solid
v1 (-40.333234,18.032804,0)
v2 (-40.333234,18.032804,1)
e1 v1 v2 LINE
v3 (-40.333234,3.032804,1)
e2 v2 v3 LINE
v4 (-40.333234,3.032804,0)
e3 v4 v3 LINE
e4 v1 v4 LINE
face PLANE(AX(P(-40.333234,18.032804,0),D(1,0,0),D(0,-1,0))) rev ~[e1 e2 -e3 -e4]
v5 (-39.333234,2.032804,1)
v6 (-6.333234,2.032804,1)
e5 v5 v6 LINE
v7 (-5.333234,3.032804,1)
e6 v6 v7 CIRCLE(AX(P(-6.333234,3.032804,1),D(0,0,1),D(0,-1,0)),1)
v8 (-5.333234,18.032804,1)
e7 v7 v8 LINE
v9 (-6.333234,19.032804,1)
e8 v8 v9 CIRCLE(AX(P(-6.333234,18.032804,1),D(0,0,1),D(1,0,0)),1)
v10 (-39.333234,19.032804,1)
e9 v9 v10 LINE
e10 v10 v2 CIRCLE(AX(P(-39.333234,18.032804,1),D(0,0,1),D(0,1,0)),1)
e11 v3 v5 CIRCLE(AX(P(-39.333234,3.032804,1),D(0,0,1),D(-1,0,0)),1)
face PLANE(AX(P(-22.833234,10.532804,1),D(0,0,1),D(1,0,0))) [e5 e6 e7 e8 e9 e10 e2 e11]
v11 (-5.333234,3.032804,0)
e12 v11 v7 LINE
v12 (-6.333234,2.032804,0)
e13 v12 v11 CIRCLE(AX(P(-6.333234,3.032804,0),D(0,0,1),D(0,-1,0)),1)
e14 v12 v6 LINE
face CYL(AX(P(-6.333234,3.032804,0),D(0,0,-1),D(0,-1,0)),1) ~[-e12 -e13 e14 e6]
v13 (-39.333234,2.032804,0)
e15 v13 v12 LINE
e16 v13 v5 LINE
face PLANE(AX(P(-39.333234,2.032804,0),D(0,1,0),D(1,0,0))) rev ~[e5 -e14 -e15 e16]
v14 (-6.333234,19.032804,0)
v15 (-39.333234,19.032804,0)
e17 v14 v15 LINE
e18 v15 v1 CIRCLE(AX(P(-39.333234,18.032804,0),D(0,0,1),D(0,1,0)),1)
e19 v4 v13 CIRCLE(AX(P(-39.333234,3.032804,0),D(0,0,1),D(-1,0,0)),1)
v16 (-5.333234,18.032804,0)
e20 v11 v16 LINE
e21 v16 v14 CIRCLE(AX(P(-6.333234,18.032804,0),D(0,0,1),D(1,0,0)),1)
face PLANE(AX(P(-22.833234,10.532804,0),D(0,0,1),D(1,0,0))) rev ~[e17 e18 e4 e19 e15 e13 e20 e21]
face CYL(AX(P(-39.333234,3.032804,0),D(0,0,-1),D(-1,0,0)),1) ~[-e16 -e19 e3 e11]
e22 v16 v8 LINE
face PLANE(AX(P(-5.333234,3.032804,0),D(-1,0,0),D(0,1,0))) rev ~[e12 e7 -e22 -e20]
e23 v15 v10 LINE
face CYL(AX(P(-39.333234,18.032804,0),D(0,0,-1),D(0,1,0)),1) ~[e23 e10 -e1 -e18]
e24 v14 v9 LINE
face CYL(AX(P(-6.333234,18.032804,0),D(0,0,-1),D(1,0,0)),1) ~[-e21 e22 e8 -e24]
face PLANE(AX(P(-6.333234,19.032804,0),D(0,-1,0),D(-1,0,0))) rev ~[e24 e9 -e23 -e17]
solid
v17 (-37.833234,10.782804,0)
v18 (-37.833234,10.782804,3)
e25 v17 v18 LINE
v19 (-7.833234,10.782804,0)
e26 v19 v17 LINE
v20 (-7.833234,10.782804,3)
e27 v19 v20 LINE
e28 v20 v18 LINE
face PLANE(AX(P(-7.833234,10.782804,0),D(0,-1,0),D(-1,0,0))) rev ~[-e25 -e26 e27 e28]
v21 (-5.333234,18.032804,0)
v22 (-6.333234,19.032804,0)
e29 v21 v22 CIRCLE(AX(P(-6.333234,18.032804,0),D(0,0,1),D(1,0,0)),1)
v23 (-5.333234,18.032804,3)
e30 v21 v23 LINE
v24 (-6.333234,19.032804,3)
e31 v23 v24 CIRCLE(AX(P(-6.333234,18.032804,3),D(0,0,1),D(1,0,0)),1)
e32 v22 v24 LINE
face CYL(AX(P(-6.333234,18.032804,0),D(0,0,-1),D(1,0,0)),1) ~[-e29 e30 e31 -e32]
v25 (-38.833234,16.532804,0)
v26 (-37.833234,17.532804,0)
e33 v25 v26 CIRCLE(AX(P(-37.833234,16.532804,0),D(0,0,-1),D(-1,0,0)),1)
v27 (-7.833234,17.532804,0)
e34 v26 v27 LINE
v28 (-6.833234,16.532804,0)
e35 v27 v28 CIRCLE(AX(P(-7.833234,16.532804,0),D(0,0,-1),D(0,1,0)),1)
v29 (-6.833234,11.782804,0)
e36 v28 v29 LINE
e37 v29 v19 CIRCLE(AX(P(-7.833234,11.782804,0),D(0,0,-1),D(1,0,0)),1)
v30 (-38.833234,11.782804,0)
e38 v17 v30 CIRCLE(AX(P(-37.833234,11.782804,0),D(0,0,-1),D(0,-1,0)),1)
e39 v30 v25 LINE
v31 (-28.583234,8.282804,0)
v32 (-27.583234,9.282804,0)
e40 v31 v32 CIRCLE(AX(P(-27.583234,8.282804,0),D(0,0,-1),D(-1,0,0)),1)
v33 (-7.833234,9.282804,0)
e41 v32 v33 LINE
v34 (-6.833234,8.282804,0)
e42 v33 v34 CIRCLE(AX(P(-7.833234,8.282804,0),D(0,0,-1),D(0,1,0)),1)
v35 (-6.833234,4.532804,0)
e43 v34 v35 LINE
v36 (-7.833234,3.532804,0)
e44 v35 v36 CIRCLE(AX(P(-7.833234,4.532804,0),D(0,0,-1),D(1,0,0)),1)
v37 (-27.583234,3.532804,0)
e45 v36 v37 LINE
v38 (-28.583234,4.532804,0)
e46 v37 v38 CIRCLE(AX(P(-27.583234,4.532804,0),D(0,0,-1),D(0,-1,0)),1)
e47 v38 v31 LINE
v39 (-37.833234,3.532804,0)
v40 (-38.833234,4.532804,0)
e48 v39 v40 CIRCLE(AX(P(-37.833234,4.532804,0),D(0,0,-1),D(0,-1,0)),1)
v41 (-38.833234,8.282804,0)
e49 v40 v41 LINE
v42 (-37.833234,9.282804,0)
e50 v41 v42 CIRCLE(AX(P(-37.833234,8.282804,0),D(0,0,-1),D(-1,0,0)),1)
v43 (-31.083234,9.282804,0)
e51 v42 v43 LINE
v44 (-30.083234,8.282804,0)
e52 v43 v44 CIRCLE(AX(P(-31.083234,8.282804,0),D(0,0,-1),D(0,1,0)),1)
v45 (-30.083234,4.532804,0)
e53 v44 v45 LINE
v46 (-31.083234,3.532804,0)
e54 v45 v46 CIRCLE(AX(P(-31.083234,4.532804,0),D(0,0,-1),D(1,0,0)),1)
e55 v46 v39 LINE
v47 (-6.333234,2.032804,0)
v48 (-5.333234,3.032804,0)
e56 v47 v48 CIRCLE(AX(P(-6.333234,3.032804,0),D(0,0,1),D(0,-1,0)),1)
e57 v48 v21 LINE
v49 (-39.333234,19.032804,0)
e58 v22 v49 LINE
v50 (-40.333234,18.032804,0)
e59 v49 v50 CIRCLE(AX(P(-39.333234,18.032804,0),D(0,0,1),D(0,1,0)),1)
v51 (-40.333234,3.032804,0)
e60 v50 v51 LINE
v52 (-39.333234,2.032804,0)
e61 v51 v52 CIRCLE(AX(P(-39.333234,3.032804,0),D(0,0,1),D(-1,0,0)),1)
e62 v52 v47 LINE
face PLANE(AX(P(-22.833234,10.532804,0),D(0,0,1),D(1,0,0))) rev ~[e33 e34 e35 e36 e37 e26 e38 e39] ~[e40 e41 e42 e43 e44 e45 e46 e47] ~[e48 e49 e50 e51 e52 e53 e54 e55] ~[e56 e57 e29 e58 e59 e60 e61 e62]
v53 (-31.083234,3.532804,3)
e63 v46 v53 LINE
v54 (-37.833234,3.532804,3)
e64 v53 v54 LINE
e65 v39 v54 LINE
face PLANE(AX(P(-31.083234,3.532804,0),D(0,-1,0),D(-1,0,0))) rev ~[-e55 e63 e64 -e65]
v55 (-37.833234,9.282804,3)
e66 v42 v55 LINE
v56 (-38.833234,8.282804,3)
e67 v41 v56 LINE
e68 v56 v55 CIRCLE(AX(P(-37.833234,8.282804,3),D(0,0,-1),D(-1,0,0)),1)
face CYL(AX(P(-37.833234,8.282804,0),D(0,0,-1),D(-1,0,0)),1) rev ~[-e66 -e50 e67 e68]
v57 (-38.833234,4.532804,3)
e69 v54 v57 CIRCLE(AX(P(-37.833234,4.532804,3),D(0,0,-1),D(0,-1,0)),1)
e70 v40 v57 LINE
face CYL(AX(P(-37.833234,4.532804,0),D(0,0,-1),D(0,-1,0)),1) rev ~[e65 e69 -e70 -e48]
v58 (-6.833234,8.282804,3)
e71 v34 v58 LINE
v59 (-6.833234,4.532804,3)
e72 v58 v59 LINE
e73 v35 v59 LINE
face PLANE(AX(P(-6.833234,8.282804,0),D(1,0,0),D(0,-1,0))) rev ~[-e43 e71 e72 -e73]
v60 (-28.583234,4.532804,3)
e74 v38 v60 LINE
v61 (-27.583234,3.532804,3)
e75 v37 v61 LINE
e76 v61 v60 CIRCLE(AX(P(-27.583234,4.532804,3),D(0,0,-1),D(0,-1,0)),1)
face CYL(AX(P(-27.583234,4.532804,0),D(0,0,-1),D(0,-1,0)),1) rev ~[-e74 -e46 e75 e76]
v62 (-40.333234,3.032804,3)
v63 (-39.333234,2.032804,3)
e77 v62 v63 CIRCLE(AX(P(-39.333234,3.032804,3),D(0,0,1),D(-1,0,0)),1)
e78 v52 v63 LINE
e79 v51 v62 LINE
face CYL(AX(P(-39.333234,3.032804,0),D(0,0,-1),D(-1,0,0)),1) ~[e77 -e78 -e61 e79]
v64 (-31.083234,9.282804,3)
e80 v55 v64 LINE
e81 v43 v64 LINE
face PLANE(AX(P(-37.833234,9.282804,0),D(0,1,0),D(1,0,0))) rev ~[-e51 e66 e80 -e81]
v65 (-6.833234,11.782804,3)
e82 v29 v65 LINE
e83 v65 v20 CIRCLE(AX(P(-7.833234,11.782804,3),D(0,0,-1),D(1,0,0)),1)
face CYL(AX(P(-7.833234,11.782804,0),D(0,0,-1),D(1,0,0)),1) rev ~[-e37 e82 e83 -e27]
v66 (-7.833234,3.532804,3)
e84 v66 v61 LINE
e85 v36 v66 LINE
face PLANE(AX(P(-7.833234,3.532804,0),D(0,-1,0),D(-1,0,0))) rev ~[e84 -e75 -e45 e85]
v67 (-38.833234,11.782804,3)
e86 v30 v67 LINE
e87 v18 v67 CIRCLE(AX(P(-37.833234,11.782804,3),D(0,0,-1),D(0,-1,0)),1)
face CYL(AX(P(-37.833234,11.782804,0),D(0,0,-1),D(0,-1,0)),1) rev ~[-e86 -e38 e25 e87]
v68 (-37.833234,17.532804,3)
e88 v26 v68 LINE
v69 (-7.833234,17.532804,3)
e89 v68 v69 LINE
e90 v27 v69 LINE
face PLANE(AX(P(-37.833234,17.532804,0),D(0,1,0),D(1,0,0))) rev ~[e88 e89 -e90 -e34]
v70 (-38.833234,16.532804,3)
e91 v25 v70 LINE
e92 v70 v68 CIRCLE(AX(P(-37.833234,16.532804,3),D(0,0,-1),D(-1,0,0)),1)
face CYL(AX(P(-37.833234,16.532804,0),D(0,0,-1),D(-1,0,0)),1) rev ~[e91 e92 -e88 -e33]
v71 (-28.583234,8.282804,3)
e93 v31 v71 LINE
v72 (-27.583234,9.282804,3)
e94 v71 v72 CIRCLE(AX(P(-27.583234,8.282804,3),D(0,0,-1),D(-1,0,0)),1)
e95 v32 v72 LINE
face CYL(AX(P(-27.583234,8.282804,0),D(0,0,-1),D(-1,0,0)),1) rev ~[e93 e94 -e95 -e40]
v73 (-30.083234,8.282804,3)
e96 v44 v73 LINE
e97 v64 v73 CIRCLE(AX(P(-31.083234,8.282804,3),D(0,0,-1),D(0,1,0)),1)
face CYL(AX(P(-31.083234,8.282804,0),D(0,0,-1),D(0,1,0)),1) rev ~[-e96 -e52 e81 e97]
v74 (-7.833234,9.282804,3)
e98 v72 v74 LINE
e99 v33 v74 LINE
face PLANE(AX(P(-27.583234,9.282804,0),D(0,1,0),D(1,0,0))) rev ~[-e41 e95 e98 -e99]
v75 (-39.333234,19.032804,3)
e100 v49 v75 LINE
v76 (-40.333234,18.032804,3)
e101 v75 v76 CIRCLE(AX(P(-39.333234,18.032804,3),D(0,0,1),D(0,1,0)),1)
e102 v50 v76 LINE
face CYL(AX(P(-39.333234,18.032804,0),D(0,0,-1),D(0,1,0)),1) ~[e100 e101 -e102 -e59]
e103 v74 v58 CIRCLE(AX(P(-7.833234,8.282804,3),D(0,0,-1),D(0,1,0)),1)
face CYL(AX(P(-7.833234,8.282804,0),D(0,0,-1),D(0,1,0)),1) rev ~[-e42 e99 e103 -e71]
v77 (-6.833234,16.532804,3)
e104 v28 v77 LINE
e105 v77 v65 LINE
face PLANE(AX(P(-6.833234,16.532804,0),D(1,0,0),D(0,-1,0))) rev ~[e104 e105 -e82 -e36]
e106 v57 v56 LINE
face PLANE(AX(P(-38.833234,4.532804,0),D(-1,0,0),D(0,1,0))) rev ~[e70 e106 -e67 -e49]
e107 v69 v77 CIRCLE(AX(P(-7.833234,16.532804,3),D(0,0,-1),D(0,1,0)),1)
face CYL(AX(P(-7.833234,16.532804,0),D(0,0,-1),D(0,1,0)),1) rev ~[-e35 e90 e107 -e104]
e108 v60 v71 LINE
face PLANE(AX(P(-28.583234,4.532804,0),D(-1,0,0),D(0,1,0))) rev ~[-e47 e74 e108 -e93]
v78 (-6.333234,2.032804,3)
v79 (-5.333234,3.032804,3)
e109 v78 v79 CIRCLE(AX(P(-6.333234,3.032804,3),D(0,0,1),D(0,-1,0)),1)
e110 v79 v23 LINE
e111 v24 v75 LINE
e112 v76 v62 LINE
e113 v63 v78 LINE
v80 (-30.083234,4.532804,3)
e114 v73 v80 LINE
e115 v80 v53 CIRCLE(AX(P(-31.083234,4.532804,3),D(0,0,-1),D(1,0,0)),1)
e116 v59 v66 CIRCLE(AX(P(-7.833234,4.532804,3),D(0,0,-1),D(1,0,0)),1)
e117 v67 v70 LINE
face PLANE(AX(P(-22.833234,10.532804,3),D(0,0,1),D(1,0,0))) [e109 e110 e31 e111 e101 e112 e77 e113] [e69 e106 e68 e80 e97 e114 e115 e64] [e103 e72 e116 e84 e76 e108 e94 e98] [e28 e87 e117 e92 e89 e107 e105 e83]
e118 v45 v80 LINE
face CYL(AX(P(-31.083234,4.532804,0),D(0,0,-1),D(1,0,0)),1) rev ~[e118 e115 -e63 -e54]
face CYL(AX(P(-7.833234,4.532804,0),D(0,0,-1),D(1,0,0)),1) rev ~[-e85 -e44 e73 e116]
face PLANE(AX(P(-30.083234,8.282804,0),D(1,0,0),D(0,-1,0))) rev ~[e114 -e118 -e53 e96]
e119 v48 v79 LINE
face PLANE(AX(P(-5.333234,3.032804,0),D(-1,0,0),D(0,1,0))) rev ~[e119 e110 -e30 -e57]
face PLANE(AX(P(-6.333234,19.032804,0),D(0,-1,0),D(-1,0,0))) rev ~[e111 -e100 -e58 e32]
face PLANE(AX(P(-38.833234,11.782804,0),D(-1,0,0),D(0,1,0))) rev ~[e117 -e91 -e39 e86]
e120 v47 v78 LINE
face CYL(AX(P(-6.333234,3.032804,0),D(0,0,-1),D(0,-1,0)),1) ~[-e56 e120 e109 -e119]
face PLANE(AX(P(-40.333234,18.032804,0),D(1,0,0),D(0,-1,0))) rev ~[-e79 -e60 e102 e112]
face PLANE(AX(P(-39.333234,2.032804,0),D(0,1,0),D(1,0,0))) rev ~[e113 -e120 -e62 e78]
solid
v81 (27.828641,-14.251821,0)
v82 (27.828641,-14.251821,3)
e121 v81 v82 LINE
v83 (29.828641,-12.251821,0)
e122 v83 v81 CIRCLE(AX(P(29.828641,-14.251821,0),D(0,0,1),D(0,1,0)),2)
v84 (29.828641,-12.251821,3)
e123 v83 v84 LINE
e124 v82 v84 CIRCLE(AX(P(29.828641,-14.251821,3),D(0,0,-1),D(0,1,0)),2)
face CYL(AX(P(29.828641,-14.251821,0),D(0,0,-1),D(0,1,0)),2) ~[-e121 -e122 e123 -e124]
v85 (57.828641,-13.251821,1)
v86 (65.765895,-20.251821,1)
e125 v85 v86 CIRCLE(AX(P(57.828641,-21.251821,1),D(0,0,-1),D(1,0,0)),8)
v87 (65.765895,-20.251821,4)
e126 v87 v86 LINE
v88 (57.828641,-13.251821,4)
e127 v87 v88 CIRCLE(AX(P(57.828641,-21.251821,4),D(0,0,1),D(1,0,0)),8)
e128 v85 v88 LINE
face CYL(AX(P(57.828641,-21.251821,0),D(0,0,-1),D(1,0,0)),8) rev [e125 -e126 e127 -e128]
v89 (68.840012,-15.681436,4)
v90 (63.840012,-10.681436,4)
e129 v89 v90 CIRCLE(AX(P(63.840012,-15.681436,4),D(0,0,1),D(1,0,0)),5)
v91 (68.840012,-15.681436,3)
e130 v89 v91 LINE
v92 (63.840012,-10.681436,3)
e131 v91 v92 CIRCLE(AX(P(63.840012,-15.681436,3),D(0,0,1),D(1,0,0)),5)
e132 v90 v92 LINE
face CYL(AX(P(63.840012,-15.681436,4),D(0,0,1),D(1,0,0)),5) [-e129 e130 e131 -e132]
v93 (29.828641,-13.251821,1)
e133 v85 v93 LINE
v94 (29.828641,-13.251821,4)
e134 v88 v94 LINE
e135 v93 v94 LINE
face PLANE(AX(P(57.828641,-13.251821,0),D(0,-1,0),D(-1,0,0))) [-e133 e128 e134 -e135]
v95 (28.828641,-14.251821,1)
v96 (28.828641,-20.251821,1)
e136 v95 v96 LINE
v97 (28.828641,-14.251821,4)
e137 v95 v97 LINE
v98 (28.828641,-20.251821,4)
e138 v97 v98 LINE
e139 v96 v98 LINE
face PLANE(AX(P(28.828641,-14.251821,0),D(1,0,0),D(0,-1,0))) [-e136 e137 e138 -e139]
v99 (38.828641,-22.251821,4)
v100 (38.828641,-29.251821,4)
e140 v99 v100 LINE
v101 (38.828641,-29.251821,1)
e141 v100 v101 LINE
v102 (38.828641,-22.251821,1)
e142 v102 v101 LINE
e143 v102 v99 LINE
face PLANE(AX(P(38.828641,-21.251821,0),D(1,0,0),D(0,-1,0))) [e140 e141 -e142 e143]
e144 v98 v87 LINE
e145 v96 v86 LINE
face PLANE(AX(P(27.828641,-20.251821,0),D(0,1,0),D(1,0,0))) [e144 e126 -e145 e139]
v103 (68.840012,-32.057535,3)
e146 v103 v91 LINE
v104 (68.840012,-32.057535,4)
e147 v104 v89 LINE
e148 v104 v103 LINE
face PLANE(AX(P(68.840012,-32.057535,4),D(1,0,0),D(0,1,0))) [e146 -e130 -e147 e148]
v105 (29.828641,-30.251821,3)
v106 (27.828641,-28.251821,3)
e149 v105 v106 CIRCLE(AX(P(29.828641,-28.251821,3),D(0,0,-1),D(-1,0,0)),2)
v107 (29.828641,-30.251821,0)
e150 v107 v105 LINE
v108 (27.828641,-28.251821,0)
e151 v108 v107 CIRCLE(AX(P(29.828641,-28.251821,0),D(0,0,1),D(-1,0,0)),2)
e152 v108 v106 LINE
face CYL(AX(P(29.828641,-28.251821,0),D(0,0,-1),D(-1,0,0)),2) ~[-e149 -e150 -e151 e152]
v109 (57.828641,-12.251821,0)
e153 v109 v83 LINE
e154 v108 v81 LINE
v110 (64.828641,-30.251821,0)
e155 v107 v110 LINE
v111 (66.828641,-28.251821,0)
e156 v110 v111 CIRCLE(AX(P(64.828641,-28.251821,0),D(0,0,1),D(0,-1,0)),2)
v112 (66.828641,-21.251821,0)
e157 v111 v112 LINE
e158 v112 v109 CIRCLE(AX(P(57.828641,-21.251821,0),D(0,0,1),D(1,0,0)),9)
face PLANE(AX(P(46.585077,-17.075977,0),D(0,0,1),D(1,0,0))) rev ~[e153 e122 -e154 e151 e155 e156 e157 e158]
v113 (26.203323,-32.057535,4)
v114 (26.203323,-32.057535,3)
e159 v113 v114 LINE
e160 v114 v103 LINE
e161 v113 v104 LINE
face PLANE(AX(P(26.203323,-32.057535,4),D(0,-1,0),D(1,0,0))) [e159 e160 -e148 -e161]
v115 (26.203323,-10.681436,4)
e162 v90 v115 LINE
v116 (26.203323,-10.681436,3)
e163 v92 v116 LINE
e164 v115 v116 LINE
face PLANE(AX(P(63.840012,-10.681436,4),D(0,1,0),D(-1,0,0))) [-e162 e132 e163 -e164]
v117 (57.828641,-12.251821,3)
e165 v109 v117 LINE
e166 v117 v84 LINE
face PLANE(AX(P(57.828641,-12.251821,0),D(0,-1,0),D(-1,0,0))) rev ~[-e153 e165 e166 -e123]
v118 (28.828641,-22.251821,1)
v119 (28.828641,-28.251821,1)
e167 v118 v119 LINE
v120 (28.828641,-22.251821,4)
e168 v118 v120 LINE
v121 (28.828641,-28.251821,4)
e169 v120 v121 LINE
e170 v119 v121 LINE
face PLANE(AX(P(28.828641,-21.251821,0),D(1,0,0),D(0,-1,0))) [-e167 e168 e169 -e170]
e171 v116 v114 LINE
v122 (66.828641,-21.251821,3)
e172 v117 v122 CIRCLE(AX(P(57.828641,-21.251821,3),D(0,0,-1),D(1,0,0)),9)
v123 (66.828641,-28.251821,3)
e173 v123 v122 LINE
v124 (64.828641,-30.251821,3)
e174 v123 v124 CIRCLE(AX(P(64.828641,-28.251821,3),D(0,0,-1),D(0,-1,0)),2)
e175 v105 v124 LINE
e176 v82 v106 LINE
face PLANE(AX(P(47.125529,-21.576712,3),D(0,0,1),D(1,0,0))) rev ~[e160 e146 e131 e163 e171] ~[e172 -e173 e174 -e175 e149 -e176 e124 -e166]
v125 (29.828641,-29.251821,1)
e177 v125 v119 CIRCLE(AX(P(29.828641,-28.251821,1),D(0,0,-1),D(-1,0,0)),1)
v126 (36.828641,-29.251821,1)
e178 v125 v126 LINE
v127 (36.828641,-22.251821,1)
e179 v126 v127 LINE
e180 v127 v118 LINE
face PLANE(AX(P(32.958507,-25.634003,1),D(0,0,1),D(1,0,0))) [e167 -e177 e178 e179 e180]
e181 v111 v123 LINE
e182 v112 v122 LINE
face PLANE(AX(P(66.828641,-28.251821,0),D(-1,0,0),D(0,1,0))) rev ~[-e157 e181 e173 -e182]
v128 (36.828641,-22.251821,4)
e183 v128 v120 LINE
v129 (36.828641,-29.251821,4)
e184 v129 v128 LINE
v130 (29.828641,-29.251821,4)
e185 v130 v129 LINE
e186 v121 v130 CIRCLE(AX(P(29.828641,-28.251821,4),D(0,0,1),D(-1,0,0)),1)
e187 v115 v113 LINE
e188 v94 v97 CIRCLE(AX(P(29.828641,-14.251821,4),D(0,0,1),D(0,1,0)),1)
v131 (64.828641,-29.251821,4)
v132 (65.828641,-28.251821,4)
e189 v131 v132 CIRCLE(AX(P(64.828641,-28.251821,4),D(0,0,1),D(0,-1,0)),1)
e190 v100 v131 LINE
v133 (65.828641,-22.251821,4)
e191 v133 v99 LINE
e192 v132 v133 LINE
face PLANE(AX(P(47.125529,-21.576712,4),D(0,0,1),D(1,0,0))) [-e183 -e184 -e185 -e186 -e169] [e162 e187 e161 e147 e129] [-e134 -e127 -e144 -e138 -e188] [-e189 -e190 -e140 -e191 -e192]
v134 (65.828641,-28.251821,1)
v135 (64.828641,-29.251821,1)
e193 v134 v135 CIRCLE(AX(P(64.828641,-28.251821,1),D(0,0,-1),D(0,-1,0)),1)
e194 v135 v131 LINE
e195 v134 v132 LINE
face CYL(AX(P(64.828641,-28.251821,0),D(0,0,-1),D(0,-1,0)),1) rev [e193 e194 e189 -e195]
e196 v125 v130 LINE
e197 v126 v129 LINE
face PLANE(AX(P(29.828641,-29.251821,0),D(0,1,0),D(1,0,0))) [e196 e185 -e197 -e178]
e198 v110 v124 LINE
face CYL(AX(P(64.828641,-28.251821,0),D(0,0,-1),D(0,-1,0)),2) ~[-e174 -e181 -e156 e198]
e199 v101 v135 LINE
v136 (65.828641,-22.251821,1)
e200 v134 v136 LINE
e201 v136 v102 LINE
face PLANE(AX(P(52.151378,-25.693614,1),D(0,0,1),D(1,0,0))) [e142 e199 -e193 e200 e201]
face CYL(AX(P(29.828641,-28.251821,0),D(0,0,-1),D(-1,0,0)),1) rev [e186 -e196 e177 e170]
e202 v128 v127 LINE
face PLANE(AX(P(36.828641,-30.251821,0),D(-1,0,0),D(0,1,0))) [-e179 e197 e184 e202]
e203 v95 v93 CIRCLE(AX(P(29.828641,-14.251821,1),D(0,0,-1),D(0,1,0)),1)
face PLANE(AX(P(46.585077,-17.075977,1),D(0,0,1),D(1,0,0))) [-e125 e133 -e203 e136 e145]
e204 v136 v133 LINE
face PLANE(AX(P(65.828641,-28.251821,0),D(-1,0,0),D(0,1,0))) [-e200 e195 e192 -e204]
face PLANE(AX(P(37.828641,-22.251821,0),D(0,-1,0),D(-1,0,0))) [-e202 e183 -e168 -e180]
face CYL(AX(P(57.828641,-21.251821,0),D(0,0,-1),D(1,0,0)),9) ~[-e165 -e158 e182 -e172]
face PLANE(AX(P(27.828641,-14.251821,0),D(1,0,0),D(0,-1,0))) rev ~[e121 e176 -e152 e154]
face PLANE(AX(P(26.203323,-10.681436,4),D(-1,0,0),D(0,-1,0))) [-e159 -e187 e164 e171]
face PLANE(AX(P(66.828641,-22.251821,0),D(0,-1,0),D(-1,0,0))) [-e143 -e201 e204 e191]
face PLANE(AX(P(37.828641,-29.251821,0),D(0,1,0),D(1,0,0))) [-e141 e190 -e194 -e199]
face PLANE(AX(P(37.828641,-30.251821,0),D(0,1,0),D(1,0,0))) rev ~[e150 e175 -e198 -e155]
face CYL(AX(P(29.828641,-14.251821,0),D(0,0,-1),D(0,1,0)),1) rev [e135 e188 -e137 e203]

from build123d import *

# Parameters (mm, degrees)
F1_DEPTH  = 3
F2_DEPTH  = 1
F4_DEPTH  = 4
F5_T      = -1
F6_DEPTH  = 4
F7_T      = -1
F8_DEPTH  = 4
F9_T      = -1
F12_DEPTH = 1


with BuildPart() as f1:
    # F0 (on Top) → F1 (new body)
    with BuildSketch(Plane.XY):
        with BuildLine():
            ThreePointArc((-40.3332337737, 3.0328043029), (-40.0403405549, 2.3256975217), (-39.3332337737, 2.0328043029))
            Line((-39.3332337737, 2.0328043029), (-6.3332337737, 2.0328043029))
            ThreePointArc((-6.3332337737, 2.0328043029), (-5.6261269925, 2.3256975217), (-5.3332337737, 3.0328043029))
            Line((-5.3332337737, 3.0328043029), (-5.3332337737, 18.0328043029))
            ThreePointArc((-5.3332337737, 18.0328043029), (-5.6261269925, 18.7399110841), (-6.3332337737, 19.0328043029))
            Line((-6.3332337737, 19.0328043029), (-39.3332337737, 19.0328043029))
            ThreePointArc((-39.3332337737, 19.0328043029), (-40.0403405549, 18.7399110841), (-40.3332337737, 18.0328043029))
            Line((-40.3332337737, 18.0328043029), (-40.3332337737, 3.0328043029))
        make_face()
        with BuildLine():
            ThreePointArc((-37.8332337737, 3.5328043029), (-38.5403405549, 3.8256975217), (-38.8332337737, 4.5328043029))
            Line((-38.8332337737, 4.5328043029), (-38.8332337737, 8.2828043029))
            ThreePointArc((-38.8332337737, 8.2828043029), (-38.5403405549, 8.9899110841), (-37.8332337737, 9.2828043029))
            Line((-37.8332337737, 9.2828043029), (-31.0832337737, 9.2828043029))
            ThreePointArc((-31.0832337737, 9.2828043029), (-30.3761269925, 8.9899110841), (-30.0832337737, 8.2828043029))
            Line((-30.0832337737, 8.2828043029), (-30.0832337737, 4.5328043029))
            ThreePointArc((-30.0832337737, 4.5328043029), (-30.3761269925, 3.8256975217), (-31.0832337737, 3.5328043029))
            Line((-31.0832337737, 3.5328043029), (-37.8332337737, 3.5328043029))
        make_face(mode=Mode.SUBTRACT)
        with BuildLine():
            Line((-6.8332337737, 8.2828043029), (-6.8332337737, 4.5328043029))
            ThreePointArc((-6.8332337737, 4.5328043029), (-7.1261269925, 3.8256975217), (-7.8332337737, 3.5328043029))
            Line((-7.8332337737, 3.5328043029), (-27.5832337737, 3.5328043029))
            ThreePointArc((-27.5832337737, 3.5328043029), (-28.2903405549, 3.8256975217), (-28.5832337737, 4.5328043029))
            Line((-28.5832337737, 4.5328043029), (-28.5832337737, 8.2828043029))
            ThreePointArc((-28.5832337737, 8.2828043029), (-28.2903405549, 8.9899110841), (-27.5832337737, 9.2828043029))
            Line((-27.5832337737, 9.2828043029), (-7.8332337737, 9.2828043029))
            ThreePointArc((-7.8332337737, 9.2828043029), (-7.1261269925, 8.9899110841), (-6.8332337737, 8.2828043029))
        make_face(mode=Mode.SUBTRACT)
        with BuildLine():
            ThreePointArc((-38.8332337737, 16.5328043029), (-38.5403405549, 17.2399110841), (-37.8332337737, 17.5328043029))
            Line((-37.8332337737, 17.5328043029), (-7.8332337737, 17.5328043029))
            ThreePointArc((-7.8332337737, 17.5328043029), (-7.1261269925, 17.2399110841), (-6.8332337737, 16.5328043029))
            Line((-6.8332337737, 16.5328043029), (-6.8332337737, 11.7828043029))
            ThreePointArc((-6.8332337737, 11.7828043029), (-7.1261269925, 11.0756975217), (-7.8332337737, 10.7828043029))
            Line((-7.8332337737, 10.7828043029), (-37.8332337737, 10.7828043029))
            ThreePointArc((-37.8332337737, 10.7828043029), (-38.5403405549, 11.0756975217), (-38.8332337737, 11.7828043029))
            Line((-38.8332337737, 11.7828043029), (-38.8332337737, 16.5328043029))
        make_face(mode=Mode.SUBTRACT)
    extrude(amount=F1_DEPTH)


with BuildPart() as f2:
    # F0 (on Top) → F2 (new body)
    with BuildSketch(Plane.XY):
        with BuildLine():
            ThreePointArc((-40.3332337737, 3.0328043029), (-40.0403405549, 2.3256975217), (-39.3332337737, 2.0328043029))
            Line((-39.3332337737, 2.0328043029), (-6.3332337737, 2.0328043029))
            ThreePointArc((-6.3332337737, 2.0328043029), (-5.6261269925, 2.3256975217), (-5.3332337737, 3.0328043029))
            Line((-5.3332337737, 3.0328043029), (-5.3332337737, 18.0328043029))
            ThreePointArc((-5.3332337737, 18.0328043029), (-5.6261269925, 18.7399110841), (-6.3332337737, 19.0328043029))
            Line((-6.3332337737, 19.0328043029), (-39.3332337737, 19.0328043029))
            ThreePointArc((-39.3332337737, 19.0328043029), (-40.0403405549, 18.7399110841), (-40.3332337737, 18.0328043029))
            Line((-40.3332337737, 18.0328043029), (-40.3332337737, 3.0328043029))
        make_face()
        with BuildLine():
            ThreePointArc((-37.8332337737, 3.5328043029), (-38.5403405549, 3.8256975217), (-38.8332337737, 4.5328043029))
            Line((-38.8332337737, 4.5328043029), (-38.8332337737, 8.2828043029))
            ThreePointArc((-38.8332337737, 8.2828043029), (-38.5403405549, 8.9899110841), (-37.8332337737, 9.2828043029))
            Line((-37.8332337737, 9.2828043029), (-31.0832337737, 9.2828043029))
            ThreePointArc((-31.0832337737, 9.2828043029), (-30.3761269925, 8.9899110841), (-30.0832337737, 8.2828043029))
            Line((-30.0832337737, 8.2828043029), (-30.0832337737, 4.5328043029))
            ThreePointArc((-30.0832337737, 4.5328043029), (-30.3761269925, 3.8256975217), (-31.0832337737, 3.5328043029))
            Line((-31.0832337737, 3.5328043029), (-37.8332337737, 3.5328043029))
        make_face(mode=Mode.SUBTRACT)
        with BuildLine():
            Line((-6.8332337737, 8.2828043029), (-6.8332337737, 4.5328043029))
            ThreePointArc((-6.8332337737, 4.5328043029), (-7.1261269925, 3.8256975217), (-7.8332337737, 3.5328043029))
            Line((-7.8332337737, 3.5328043029), (-27.5832337737, 3.5328043029))
            ThreePointArc((-27.5832337737, 3.5328043029), (-28.2903405549, 3.8256975217), (-28.5832337737, 4.5328043029))
            Line((-28.5832337737, 4.5328043029), (-28.5832337737, 8.2828043029))
            ThreePointArc((-28.5832337737, 8.2828043029), (-28.2903405549, 8.9899110841), (-27.5832337737, 9.2828043029))
            Line((-27.5832337737, 9.2828043029), (-7.8332337737, 9.2828043029))
            ThreePointArc((-7.8332337737, 9.2828043029), (-7.1261269925, 8.9899110841), (-6.8332337737, 8.2828043029))
        make_face(mode=Mode.SUBTRACT)
        with BuildLine():
            ThreePointArc((-38.8332337737, 16.5328043029), (-38.5403405549, 17.2399110841), (-37.8332337737, 17.5328043029))
            Line((-37.8332337737, 17.5328043029), (-7.8332337737, 17.5328043029))
            ThreePointArc((-7.8332337737, 17.5328043029), (-7.1261269925, 17.2399110841), (-6.8332337737, 16.5328043029))
            Line((-6.8332337737, 16.5328043029), (-6.8332337737, 11.7828043029))
            ThreePointArc((-6.8332337737, 11.7828043029), (-7.1261269925, 11.0756975217), (-7.8332337737, 10.7828043029))
            Line((-7.8332337737, 10.7828043029), (-37.8332337737, 10.7828043029))
            ThreePointArc((-37.8332337737, 10.7828043029), (-38.5403405549, 11.0756975217), (-38.8332337737, 11.7828043029))
            Line((-38.8332337737, 11.7828043029), (-38.8332337737, 16.5328043029))
        make_face(mode=Mode.SUBTRACT)
        with BuildLine():
            Line((-7.8332337737, 17.5328043029), (-37.8332337737, 17.5328043029))
            ThreePointArc((-37.8332337737, 17.5328043029), (-38.5403405549, 17.2399110841), (-38.8332337737, 16.5328043029))
            Line((-38.8332337737, 16.5328043029), (-38.8332337737, 11.7828043029))
            ThreePointArc((-38.8332337737, 11.7828043029), (-38.5403405549, 11.0756975217), (-37.8332337737, 10.7828043029))
            Line((-37.8332337737, 10.7828043029), (-7.8332337737, 10.7828043029))
            ThreePointArc((-7.8332337737, 10.7828043029), (-7.1261269925, 11.0756975217), (-6.8332337737, 11.7828043029))
            Line((-6.8332337737, 11.7828043029), (-6.8332337737, 16.5328043029))
            ThreePointArc((-6.8332337737, 16.5328043029), (-7.1261269925, 17.2399110841), (-7.8332337737, 17.5328043029))
        make_face()
        with BuildLine():
            ThreePointArc((-7.8332337737, 3.5328043029), (-7.1261269925, 3.8256975217), (-6.8332337737, 4.5328043029))
            Line((-6.8332337737, 4.5328043029), (-6.8332337737, 8.2828043029))
            ThreePointArc((-6.8332337737, 8.2828043029), (-7.1261269925, 8.9899110841), (-7.8332337737, 9.2828043029))
            Line((-7.8332337737, 9.2828043029), (-27.5832337737, 9.2828043029))
            ThreePointArc((-27.5832337737, 9.2828043029), (-28.2903405549, 8.9899110841), (-28.5832337737, 8.2828043029))
            Line((-28.5832337737, 8.2828043029), (-28.5832337737, 4.5328043029))
            ThreePointArc((-28.5832337737, 4.5328043029), (-28.2903405549, 3.8256975217), (-27.5832337737, 3.5328043029))
            Line((-27.5832337737, 3.5328043029), (-7.8332337737, 3.5328043029))
        make_face()
        with BuildLine():
            Line((-38.8332337737, 8.2828043029), (-38.8332337737, 4.5328043029))
            ThreePointArc((-38.8332337737, 4.5328043029), (-38.5403405549, 3.8256975217), (-37.8332337737, 3.5328043029))
            Line((-37.8332337737, 3.5328043029), (-31.0832337737, 3.5328043029))
            ThreePointArc((-31.0832337737, 3.5328043029), (-30.3761269925, 3.8256975217), (-30.0832337737, 4.5328043029))
            Line((-30.0832337737, 4.5328043029), (-30.0832337737, 8.2828043029))
            ThreePointArc((-30.0832337737, 8.2828043029), (-30.3761269925, 8.9899110841), (-31.0832337737, 9.2828043029))
            Line((-31.0832337737, 9.2828043029), (-37.8332337737, 9.2828043029))
            ThreePointArc((-37.8332337737, 9.2828043029), (-38.5403405549, 8.9899110841), (-38.8332337737, 8.2828043029))
        make_face()
    extrude(amount=F2_DEPTH)


with BuildPart() as f4:
    # F3 (on Top) → F4 (new body)
    with BuildSketch(Plane.XY):
        with BuildLine():
            ThreePointArc((27.8286407689, -28.2518212428), (28.4144272065, -29.6660348052), (29.8286407689, -30.2518212428))
            Line((29.8286407689, -30.2518212428), (37.8286407689, -30.2518212428))
            Line((37.8286407689, -30.2518212428), (37.8286407689, -21.2518212428))
            Line((37.8286407689, -21.2518212428), (27.8286407689, -21.2518212428))
            Line((27.8286407689, -21.2518212428), (27.8286407689, -28.2518212428))
        make_face()
    extrude(amount=F4_DEPTH)

    # F5
    f5_openings = [f4.faces().sort_by_distance(p)[0] for p in [
        (32.872487, -25.71279, 4),
    ]]
    offset(amount=F5_T, openings=f5_openings)


with BuildPart() as f6:
    # F3 (on Top) → F6 (new body)
    with BuildSketch(Plane.XY):
        with BuildLine():
            Line((37.8286407689, -21.2518212428), (37.8286407689, -30.2518212428))
            Line((37.8286407689, -30.2518212428), (64.8286407689, -30.2518212428))
            ThreePointArc((64.8286407689, -30.2518212428), (66.2428543312, -29.6660348052), (66.8286407689, -28.2518212428))
            Line((66.8286407689, -28.2518212428), (66.8286407689, -21.2518212428))
            Line((66.8286407689, -21.2518212428), (37.8286407689, -21.2518212428))
        make_face()
    extrude(amount=F6_DEPTH)

    # F7
    f7_openings = [f6.faces().sort_by_distance(p)[0] for p in [
        (52.282268, -25.738446, 4),
    ]]
    offset(amount=F7_T, openings=f7_openings)


with BuildPart() as f8:
    # F3 (on Top) → F8 (new body)
    with BuildSketch(Plane.XY):
        with BuildLine():
            Line((27.8286407689, -21.2518212428), (37.8286407689, -21.2518212428))
            Line((37.8286407689, -21.2518212428), (66.8286407689, -21.2518212428))
            ThreePointArc((66.8286407689, -21.2518212428), (64.1926017995, -14.8878602122), (57.8286407689, -12.2518212428))
            Line((57.8286407689, -12.2518212428), (29.8286407689, -12.2518212428))
            ThreePointArc((29.8286407689, -12.2518212428), (28.4144272065, -12.8376076805), (27.8286407689, -14.2518212428))
            Line((27.8286407689, -14.2518212428), (27.8286407689, -21.2518212428))
        make_face()
    extrude(amount=F8_DEPTH)

    # F9
    f9_openings = [f8.faces().sort_by_distance(p)[0] for p in [
        (46.464161, -16.892334, 4),
    ]]
    offset(amount=F9_T, openings=f9_openings)


with BuildPart() as f4_1:
    add(f4.part)

    # F10: union F6, F8
    add(f6.part)
    add(f8.part)

    # F11 (on face) → F12 (join)
    with BuildSketch(Plane.XY.offset(4)):
        with BuildLine():
            Line((26.2033231556, -10.6814363971), (26.2033231556, -32.0575349033))
            Line((26.2033231556, -32.0575349033), (68.8400119543, -32.0575349033))
            Line((68.8400119543, -32.0575349033), (68.8400119543, -15.6814363971))
            ThreePointArc((68.8400119543, -15.6814363971), (67.3755458602, -12.1459024912), (63.8400119543, -10.6814363971))
            Line((63.8400119543, -10.6814363971), (26.2033231556, -10.6814363971))
        make_face()
        with BuildLine():
            Line((27.8286407689, -28.2518212428), (27.8286407689, -14.2518212428))
            ThreePointArc((27.8286407689, -14.2518212428), (28.4144272065, -12.8376076805), (29.8286407689, -12.2518212428))
            Line((29.8286407689, -12.2518212428), (57.8286407689, -12.2518212428))
            ThreePointArc((57.8286407689, -12.2518212428), (64.1926017995, -14.8878602122), (66.8286407689, -21.2518212428))
            Line((66.8286407689, -21.2518212428), (66.8286407689, -28.2518212428))
            ThreePointArc((66.8286407689, -28.2518212428), (66.2428543312, -29.6660348052), (64.8286407689, -30.2518212428))
            Line((64.8286407689, -30.2518212428), (29.8286407689, -30.2518212428))
            ThreePointArc((29.8286407689, -30.2518212428), (28.4144272065, -29.6660348052), (27.8286407689, -28.2518212428))
        make_face(mode=Mode.SUBTRACT)
        with BuildLine():
            ThreePointArc((29.8286407689, -12.2518212428), (28.4144272065, -12.8376076805), (27.8286407689, -14.2518212428))
            Line((27.8286407689, -14.2518212428), (27.8286407689, -28.2518212428))
            ThreePointArc((27.8286407689, -28.2518212428), (28.4144272065, -29.6660348052), (29.8286407689, -30.2518212428))
            Line((29.8286407689, -30.2518212428), (64.8286407689, -30.2518212428))
            ThreePointArc((64.8286407689, -30.2518212428), (66.2428543312, -29.6660348052), (66.8286407689, -28.2518212428))
            Line((66.8286407689, -28.2518212428), (66.8286407689, -21.2518212428))
            ThreePointArc((66.8286407689, -21.2518212428), (64.1926017995, -14.8878602122), (57.8286407689, -12.2518212428))
            Line((57.8286407689, -12.2518212428), (29.8286407689, -12.2518212428))
        make_face()
        with BuildLine():
            Line((28.8286407689, -28.2518212428), (28.8286407689, -22.2518212428))
            Line((28.8286407689, -22.2518212428), (36.8286407689, -22.2518212428))
            Line((36.8286407689, -22.2518212428), (36.8286407689, -29.2518212428))
            Line((36.8286407689, -29.2518212428), (29.8286407689, -29.2518212428))
            ThreePointArc((29.8286407689, -29.2518212428), (29.1215339877, -28.958928024), (28.8286407689, -28.2518212428))
        make_face(mode=Mode.SUBTRACT)
        with BuildLine():
            Line((38.8286407689, -22.2518212428), (65.8286407689, -22.2518212428))
            Line((65.8286407689, -22.2518212428), (65.8286407689, -28.2518212428))
            ThreePointArc((65.8286407689, -28.2518212428), (65.53574755, -28.958928024), (64.8286407689, -29.2518212428))
            Line((64.8286407689, -29.2518212428), (38.8286407689, -29.2518212428))
            Line((38.8286407689, -29.2518212428), (38.8286407689, -22.2518212428))
        make_face(mode=Mode.SUBTRACT)
        with BuildLine():
            ThreePointArc((57.8286407689, -13.2518212428), (63.120143391, -15.2518212428), (65.7658947021, -20.2518212428))
            Line((65.7658947021, -20.2518212428), (28.8286407689, -20.2518212428))
            Line((28.8286407689, -20.2518212428), (28.8286407689, -14.2518212428))
            ThreePointArc((28.8286407689, -14.2518212428), (29.1215339877, -13.5447144616), (29.8286407689, -13.2518212428))
            Line((29.8286407689, -13.2518212428), (57.8286407689, -13.2518212428))
        make_face(mode=Mode.SUBTRACT)
    extrude(amount=-F12_DEPTH)


solid = Compound([f1.part, f2.part, f4_1.part])
